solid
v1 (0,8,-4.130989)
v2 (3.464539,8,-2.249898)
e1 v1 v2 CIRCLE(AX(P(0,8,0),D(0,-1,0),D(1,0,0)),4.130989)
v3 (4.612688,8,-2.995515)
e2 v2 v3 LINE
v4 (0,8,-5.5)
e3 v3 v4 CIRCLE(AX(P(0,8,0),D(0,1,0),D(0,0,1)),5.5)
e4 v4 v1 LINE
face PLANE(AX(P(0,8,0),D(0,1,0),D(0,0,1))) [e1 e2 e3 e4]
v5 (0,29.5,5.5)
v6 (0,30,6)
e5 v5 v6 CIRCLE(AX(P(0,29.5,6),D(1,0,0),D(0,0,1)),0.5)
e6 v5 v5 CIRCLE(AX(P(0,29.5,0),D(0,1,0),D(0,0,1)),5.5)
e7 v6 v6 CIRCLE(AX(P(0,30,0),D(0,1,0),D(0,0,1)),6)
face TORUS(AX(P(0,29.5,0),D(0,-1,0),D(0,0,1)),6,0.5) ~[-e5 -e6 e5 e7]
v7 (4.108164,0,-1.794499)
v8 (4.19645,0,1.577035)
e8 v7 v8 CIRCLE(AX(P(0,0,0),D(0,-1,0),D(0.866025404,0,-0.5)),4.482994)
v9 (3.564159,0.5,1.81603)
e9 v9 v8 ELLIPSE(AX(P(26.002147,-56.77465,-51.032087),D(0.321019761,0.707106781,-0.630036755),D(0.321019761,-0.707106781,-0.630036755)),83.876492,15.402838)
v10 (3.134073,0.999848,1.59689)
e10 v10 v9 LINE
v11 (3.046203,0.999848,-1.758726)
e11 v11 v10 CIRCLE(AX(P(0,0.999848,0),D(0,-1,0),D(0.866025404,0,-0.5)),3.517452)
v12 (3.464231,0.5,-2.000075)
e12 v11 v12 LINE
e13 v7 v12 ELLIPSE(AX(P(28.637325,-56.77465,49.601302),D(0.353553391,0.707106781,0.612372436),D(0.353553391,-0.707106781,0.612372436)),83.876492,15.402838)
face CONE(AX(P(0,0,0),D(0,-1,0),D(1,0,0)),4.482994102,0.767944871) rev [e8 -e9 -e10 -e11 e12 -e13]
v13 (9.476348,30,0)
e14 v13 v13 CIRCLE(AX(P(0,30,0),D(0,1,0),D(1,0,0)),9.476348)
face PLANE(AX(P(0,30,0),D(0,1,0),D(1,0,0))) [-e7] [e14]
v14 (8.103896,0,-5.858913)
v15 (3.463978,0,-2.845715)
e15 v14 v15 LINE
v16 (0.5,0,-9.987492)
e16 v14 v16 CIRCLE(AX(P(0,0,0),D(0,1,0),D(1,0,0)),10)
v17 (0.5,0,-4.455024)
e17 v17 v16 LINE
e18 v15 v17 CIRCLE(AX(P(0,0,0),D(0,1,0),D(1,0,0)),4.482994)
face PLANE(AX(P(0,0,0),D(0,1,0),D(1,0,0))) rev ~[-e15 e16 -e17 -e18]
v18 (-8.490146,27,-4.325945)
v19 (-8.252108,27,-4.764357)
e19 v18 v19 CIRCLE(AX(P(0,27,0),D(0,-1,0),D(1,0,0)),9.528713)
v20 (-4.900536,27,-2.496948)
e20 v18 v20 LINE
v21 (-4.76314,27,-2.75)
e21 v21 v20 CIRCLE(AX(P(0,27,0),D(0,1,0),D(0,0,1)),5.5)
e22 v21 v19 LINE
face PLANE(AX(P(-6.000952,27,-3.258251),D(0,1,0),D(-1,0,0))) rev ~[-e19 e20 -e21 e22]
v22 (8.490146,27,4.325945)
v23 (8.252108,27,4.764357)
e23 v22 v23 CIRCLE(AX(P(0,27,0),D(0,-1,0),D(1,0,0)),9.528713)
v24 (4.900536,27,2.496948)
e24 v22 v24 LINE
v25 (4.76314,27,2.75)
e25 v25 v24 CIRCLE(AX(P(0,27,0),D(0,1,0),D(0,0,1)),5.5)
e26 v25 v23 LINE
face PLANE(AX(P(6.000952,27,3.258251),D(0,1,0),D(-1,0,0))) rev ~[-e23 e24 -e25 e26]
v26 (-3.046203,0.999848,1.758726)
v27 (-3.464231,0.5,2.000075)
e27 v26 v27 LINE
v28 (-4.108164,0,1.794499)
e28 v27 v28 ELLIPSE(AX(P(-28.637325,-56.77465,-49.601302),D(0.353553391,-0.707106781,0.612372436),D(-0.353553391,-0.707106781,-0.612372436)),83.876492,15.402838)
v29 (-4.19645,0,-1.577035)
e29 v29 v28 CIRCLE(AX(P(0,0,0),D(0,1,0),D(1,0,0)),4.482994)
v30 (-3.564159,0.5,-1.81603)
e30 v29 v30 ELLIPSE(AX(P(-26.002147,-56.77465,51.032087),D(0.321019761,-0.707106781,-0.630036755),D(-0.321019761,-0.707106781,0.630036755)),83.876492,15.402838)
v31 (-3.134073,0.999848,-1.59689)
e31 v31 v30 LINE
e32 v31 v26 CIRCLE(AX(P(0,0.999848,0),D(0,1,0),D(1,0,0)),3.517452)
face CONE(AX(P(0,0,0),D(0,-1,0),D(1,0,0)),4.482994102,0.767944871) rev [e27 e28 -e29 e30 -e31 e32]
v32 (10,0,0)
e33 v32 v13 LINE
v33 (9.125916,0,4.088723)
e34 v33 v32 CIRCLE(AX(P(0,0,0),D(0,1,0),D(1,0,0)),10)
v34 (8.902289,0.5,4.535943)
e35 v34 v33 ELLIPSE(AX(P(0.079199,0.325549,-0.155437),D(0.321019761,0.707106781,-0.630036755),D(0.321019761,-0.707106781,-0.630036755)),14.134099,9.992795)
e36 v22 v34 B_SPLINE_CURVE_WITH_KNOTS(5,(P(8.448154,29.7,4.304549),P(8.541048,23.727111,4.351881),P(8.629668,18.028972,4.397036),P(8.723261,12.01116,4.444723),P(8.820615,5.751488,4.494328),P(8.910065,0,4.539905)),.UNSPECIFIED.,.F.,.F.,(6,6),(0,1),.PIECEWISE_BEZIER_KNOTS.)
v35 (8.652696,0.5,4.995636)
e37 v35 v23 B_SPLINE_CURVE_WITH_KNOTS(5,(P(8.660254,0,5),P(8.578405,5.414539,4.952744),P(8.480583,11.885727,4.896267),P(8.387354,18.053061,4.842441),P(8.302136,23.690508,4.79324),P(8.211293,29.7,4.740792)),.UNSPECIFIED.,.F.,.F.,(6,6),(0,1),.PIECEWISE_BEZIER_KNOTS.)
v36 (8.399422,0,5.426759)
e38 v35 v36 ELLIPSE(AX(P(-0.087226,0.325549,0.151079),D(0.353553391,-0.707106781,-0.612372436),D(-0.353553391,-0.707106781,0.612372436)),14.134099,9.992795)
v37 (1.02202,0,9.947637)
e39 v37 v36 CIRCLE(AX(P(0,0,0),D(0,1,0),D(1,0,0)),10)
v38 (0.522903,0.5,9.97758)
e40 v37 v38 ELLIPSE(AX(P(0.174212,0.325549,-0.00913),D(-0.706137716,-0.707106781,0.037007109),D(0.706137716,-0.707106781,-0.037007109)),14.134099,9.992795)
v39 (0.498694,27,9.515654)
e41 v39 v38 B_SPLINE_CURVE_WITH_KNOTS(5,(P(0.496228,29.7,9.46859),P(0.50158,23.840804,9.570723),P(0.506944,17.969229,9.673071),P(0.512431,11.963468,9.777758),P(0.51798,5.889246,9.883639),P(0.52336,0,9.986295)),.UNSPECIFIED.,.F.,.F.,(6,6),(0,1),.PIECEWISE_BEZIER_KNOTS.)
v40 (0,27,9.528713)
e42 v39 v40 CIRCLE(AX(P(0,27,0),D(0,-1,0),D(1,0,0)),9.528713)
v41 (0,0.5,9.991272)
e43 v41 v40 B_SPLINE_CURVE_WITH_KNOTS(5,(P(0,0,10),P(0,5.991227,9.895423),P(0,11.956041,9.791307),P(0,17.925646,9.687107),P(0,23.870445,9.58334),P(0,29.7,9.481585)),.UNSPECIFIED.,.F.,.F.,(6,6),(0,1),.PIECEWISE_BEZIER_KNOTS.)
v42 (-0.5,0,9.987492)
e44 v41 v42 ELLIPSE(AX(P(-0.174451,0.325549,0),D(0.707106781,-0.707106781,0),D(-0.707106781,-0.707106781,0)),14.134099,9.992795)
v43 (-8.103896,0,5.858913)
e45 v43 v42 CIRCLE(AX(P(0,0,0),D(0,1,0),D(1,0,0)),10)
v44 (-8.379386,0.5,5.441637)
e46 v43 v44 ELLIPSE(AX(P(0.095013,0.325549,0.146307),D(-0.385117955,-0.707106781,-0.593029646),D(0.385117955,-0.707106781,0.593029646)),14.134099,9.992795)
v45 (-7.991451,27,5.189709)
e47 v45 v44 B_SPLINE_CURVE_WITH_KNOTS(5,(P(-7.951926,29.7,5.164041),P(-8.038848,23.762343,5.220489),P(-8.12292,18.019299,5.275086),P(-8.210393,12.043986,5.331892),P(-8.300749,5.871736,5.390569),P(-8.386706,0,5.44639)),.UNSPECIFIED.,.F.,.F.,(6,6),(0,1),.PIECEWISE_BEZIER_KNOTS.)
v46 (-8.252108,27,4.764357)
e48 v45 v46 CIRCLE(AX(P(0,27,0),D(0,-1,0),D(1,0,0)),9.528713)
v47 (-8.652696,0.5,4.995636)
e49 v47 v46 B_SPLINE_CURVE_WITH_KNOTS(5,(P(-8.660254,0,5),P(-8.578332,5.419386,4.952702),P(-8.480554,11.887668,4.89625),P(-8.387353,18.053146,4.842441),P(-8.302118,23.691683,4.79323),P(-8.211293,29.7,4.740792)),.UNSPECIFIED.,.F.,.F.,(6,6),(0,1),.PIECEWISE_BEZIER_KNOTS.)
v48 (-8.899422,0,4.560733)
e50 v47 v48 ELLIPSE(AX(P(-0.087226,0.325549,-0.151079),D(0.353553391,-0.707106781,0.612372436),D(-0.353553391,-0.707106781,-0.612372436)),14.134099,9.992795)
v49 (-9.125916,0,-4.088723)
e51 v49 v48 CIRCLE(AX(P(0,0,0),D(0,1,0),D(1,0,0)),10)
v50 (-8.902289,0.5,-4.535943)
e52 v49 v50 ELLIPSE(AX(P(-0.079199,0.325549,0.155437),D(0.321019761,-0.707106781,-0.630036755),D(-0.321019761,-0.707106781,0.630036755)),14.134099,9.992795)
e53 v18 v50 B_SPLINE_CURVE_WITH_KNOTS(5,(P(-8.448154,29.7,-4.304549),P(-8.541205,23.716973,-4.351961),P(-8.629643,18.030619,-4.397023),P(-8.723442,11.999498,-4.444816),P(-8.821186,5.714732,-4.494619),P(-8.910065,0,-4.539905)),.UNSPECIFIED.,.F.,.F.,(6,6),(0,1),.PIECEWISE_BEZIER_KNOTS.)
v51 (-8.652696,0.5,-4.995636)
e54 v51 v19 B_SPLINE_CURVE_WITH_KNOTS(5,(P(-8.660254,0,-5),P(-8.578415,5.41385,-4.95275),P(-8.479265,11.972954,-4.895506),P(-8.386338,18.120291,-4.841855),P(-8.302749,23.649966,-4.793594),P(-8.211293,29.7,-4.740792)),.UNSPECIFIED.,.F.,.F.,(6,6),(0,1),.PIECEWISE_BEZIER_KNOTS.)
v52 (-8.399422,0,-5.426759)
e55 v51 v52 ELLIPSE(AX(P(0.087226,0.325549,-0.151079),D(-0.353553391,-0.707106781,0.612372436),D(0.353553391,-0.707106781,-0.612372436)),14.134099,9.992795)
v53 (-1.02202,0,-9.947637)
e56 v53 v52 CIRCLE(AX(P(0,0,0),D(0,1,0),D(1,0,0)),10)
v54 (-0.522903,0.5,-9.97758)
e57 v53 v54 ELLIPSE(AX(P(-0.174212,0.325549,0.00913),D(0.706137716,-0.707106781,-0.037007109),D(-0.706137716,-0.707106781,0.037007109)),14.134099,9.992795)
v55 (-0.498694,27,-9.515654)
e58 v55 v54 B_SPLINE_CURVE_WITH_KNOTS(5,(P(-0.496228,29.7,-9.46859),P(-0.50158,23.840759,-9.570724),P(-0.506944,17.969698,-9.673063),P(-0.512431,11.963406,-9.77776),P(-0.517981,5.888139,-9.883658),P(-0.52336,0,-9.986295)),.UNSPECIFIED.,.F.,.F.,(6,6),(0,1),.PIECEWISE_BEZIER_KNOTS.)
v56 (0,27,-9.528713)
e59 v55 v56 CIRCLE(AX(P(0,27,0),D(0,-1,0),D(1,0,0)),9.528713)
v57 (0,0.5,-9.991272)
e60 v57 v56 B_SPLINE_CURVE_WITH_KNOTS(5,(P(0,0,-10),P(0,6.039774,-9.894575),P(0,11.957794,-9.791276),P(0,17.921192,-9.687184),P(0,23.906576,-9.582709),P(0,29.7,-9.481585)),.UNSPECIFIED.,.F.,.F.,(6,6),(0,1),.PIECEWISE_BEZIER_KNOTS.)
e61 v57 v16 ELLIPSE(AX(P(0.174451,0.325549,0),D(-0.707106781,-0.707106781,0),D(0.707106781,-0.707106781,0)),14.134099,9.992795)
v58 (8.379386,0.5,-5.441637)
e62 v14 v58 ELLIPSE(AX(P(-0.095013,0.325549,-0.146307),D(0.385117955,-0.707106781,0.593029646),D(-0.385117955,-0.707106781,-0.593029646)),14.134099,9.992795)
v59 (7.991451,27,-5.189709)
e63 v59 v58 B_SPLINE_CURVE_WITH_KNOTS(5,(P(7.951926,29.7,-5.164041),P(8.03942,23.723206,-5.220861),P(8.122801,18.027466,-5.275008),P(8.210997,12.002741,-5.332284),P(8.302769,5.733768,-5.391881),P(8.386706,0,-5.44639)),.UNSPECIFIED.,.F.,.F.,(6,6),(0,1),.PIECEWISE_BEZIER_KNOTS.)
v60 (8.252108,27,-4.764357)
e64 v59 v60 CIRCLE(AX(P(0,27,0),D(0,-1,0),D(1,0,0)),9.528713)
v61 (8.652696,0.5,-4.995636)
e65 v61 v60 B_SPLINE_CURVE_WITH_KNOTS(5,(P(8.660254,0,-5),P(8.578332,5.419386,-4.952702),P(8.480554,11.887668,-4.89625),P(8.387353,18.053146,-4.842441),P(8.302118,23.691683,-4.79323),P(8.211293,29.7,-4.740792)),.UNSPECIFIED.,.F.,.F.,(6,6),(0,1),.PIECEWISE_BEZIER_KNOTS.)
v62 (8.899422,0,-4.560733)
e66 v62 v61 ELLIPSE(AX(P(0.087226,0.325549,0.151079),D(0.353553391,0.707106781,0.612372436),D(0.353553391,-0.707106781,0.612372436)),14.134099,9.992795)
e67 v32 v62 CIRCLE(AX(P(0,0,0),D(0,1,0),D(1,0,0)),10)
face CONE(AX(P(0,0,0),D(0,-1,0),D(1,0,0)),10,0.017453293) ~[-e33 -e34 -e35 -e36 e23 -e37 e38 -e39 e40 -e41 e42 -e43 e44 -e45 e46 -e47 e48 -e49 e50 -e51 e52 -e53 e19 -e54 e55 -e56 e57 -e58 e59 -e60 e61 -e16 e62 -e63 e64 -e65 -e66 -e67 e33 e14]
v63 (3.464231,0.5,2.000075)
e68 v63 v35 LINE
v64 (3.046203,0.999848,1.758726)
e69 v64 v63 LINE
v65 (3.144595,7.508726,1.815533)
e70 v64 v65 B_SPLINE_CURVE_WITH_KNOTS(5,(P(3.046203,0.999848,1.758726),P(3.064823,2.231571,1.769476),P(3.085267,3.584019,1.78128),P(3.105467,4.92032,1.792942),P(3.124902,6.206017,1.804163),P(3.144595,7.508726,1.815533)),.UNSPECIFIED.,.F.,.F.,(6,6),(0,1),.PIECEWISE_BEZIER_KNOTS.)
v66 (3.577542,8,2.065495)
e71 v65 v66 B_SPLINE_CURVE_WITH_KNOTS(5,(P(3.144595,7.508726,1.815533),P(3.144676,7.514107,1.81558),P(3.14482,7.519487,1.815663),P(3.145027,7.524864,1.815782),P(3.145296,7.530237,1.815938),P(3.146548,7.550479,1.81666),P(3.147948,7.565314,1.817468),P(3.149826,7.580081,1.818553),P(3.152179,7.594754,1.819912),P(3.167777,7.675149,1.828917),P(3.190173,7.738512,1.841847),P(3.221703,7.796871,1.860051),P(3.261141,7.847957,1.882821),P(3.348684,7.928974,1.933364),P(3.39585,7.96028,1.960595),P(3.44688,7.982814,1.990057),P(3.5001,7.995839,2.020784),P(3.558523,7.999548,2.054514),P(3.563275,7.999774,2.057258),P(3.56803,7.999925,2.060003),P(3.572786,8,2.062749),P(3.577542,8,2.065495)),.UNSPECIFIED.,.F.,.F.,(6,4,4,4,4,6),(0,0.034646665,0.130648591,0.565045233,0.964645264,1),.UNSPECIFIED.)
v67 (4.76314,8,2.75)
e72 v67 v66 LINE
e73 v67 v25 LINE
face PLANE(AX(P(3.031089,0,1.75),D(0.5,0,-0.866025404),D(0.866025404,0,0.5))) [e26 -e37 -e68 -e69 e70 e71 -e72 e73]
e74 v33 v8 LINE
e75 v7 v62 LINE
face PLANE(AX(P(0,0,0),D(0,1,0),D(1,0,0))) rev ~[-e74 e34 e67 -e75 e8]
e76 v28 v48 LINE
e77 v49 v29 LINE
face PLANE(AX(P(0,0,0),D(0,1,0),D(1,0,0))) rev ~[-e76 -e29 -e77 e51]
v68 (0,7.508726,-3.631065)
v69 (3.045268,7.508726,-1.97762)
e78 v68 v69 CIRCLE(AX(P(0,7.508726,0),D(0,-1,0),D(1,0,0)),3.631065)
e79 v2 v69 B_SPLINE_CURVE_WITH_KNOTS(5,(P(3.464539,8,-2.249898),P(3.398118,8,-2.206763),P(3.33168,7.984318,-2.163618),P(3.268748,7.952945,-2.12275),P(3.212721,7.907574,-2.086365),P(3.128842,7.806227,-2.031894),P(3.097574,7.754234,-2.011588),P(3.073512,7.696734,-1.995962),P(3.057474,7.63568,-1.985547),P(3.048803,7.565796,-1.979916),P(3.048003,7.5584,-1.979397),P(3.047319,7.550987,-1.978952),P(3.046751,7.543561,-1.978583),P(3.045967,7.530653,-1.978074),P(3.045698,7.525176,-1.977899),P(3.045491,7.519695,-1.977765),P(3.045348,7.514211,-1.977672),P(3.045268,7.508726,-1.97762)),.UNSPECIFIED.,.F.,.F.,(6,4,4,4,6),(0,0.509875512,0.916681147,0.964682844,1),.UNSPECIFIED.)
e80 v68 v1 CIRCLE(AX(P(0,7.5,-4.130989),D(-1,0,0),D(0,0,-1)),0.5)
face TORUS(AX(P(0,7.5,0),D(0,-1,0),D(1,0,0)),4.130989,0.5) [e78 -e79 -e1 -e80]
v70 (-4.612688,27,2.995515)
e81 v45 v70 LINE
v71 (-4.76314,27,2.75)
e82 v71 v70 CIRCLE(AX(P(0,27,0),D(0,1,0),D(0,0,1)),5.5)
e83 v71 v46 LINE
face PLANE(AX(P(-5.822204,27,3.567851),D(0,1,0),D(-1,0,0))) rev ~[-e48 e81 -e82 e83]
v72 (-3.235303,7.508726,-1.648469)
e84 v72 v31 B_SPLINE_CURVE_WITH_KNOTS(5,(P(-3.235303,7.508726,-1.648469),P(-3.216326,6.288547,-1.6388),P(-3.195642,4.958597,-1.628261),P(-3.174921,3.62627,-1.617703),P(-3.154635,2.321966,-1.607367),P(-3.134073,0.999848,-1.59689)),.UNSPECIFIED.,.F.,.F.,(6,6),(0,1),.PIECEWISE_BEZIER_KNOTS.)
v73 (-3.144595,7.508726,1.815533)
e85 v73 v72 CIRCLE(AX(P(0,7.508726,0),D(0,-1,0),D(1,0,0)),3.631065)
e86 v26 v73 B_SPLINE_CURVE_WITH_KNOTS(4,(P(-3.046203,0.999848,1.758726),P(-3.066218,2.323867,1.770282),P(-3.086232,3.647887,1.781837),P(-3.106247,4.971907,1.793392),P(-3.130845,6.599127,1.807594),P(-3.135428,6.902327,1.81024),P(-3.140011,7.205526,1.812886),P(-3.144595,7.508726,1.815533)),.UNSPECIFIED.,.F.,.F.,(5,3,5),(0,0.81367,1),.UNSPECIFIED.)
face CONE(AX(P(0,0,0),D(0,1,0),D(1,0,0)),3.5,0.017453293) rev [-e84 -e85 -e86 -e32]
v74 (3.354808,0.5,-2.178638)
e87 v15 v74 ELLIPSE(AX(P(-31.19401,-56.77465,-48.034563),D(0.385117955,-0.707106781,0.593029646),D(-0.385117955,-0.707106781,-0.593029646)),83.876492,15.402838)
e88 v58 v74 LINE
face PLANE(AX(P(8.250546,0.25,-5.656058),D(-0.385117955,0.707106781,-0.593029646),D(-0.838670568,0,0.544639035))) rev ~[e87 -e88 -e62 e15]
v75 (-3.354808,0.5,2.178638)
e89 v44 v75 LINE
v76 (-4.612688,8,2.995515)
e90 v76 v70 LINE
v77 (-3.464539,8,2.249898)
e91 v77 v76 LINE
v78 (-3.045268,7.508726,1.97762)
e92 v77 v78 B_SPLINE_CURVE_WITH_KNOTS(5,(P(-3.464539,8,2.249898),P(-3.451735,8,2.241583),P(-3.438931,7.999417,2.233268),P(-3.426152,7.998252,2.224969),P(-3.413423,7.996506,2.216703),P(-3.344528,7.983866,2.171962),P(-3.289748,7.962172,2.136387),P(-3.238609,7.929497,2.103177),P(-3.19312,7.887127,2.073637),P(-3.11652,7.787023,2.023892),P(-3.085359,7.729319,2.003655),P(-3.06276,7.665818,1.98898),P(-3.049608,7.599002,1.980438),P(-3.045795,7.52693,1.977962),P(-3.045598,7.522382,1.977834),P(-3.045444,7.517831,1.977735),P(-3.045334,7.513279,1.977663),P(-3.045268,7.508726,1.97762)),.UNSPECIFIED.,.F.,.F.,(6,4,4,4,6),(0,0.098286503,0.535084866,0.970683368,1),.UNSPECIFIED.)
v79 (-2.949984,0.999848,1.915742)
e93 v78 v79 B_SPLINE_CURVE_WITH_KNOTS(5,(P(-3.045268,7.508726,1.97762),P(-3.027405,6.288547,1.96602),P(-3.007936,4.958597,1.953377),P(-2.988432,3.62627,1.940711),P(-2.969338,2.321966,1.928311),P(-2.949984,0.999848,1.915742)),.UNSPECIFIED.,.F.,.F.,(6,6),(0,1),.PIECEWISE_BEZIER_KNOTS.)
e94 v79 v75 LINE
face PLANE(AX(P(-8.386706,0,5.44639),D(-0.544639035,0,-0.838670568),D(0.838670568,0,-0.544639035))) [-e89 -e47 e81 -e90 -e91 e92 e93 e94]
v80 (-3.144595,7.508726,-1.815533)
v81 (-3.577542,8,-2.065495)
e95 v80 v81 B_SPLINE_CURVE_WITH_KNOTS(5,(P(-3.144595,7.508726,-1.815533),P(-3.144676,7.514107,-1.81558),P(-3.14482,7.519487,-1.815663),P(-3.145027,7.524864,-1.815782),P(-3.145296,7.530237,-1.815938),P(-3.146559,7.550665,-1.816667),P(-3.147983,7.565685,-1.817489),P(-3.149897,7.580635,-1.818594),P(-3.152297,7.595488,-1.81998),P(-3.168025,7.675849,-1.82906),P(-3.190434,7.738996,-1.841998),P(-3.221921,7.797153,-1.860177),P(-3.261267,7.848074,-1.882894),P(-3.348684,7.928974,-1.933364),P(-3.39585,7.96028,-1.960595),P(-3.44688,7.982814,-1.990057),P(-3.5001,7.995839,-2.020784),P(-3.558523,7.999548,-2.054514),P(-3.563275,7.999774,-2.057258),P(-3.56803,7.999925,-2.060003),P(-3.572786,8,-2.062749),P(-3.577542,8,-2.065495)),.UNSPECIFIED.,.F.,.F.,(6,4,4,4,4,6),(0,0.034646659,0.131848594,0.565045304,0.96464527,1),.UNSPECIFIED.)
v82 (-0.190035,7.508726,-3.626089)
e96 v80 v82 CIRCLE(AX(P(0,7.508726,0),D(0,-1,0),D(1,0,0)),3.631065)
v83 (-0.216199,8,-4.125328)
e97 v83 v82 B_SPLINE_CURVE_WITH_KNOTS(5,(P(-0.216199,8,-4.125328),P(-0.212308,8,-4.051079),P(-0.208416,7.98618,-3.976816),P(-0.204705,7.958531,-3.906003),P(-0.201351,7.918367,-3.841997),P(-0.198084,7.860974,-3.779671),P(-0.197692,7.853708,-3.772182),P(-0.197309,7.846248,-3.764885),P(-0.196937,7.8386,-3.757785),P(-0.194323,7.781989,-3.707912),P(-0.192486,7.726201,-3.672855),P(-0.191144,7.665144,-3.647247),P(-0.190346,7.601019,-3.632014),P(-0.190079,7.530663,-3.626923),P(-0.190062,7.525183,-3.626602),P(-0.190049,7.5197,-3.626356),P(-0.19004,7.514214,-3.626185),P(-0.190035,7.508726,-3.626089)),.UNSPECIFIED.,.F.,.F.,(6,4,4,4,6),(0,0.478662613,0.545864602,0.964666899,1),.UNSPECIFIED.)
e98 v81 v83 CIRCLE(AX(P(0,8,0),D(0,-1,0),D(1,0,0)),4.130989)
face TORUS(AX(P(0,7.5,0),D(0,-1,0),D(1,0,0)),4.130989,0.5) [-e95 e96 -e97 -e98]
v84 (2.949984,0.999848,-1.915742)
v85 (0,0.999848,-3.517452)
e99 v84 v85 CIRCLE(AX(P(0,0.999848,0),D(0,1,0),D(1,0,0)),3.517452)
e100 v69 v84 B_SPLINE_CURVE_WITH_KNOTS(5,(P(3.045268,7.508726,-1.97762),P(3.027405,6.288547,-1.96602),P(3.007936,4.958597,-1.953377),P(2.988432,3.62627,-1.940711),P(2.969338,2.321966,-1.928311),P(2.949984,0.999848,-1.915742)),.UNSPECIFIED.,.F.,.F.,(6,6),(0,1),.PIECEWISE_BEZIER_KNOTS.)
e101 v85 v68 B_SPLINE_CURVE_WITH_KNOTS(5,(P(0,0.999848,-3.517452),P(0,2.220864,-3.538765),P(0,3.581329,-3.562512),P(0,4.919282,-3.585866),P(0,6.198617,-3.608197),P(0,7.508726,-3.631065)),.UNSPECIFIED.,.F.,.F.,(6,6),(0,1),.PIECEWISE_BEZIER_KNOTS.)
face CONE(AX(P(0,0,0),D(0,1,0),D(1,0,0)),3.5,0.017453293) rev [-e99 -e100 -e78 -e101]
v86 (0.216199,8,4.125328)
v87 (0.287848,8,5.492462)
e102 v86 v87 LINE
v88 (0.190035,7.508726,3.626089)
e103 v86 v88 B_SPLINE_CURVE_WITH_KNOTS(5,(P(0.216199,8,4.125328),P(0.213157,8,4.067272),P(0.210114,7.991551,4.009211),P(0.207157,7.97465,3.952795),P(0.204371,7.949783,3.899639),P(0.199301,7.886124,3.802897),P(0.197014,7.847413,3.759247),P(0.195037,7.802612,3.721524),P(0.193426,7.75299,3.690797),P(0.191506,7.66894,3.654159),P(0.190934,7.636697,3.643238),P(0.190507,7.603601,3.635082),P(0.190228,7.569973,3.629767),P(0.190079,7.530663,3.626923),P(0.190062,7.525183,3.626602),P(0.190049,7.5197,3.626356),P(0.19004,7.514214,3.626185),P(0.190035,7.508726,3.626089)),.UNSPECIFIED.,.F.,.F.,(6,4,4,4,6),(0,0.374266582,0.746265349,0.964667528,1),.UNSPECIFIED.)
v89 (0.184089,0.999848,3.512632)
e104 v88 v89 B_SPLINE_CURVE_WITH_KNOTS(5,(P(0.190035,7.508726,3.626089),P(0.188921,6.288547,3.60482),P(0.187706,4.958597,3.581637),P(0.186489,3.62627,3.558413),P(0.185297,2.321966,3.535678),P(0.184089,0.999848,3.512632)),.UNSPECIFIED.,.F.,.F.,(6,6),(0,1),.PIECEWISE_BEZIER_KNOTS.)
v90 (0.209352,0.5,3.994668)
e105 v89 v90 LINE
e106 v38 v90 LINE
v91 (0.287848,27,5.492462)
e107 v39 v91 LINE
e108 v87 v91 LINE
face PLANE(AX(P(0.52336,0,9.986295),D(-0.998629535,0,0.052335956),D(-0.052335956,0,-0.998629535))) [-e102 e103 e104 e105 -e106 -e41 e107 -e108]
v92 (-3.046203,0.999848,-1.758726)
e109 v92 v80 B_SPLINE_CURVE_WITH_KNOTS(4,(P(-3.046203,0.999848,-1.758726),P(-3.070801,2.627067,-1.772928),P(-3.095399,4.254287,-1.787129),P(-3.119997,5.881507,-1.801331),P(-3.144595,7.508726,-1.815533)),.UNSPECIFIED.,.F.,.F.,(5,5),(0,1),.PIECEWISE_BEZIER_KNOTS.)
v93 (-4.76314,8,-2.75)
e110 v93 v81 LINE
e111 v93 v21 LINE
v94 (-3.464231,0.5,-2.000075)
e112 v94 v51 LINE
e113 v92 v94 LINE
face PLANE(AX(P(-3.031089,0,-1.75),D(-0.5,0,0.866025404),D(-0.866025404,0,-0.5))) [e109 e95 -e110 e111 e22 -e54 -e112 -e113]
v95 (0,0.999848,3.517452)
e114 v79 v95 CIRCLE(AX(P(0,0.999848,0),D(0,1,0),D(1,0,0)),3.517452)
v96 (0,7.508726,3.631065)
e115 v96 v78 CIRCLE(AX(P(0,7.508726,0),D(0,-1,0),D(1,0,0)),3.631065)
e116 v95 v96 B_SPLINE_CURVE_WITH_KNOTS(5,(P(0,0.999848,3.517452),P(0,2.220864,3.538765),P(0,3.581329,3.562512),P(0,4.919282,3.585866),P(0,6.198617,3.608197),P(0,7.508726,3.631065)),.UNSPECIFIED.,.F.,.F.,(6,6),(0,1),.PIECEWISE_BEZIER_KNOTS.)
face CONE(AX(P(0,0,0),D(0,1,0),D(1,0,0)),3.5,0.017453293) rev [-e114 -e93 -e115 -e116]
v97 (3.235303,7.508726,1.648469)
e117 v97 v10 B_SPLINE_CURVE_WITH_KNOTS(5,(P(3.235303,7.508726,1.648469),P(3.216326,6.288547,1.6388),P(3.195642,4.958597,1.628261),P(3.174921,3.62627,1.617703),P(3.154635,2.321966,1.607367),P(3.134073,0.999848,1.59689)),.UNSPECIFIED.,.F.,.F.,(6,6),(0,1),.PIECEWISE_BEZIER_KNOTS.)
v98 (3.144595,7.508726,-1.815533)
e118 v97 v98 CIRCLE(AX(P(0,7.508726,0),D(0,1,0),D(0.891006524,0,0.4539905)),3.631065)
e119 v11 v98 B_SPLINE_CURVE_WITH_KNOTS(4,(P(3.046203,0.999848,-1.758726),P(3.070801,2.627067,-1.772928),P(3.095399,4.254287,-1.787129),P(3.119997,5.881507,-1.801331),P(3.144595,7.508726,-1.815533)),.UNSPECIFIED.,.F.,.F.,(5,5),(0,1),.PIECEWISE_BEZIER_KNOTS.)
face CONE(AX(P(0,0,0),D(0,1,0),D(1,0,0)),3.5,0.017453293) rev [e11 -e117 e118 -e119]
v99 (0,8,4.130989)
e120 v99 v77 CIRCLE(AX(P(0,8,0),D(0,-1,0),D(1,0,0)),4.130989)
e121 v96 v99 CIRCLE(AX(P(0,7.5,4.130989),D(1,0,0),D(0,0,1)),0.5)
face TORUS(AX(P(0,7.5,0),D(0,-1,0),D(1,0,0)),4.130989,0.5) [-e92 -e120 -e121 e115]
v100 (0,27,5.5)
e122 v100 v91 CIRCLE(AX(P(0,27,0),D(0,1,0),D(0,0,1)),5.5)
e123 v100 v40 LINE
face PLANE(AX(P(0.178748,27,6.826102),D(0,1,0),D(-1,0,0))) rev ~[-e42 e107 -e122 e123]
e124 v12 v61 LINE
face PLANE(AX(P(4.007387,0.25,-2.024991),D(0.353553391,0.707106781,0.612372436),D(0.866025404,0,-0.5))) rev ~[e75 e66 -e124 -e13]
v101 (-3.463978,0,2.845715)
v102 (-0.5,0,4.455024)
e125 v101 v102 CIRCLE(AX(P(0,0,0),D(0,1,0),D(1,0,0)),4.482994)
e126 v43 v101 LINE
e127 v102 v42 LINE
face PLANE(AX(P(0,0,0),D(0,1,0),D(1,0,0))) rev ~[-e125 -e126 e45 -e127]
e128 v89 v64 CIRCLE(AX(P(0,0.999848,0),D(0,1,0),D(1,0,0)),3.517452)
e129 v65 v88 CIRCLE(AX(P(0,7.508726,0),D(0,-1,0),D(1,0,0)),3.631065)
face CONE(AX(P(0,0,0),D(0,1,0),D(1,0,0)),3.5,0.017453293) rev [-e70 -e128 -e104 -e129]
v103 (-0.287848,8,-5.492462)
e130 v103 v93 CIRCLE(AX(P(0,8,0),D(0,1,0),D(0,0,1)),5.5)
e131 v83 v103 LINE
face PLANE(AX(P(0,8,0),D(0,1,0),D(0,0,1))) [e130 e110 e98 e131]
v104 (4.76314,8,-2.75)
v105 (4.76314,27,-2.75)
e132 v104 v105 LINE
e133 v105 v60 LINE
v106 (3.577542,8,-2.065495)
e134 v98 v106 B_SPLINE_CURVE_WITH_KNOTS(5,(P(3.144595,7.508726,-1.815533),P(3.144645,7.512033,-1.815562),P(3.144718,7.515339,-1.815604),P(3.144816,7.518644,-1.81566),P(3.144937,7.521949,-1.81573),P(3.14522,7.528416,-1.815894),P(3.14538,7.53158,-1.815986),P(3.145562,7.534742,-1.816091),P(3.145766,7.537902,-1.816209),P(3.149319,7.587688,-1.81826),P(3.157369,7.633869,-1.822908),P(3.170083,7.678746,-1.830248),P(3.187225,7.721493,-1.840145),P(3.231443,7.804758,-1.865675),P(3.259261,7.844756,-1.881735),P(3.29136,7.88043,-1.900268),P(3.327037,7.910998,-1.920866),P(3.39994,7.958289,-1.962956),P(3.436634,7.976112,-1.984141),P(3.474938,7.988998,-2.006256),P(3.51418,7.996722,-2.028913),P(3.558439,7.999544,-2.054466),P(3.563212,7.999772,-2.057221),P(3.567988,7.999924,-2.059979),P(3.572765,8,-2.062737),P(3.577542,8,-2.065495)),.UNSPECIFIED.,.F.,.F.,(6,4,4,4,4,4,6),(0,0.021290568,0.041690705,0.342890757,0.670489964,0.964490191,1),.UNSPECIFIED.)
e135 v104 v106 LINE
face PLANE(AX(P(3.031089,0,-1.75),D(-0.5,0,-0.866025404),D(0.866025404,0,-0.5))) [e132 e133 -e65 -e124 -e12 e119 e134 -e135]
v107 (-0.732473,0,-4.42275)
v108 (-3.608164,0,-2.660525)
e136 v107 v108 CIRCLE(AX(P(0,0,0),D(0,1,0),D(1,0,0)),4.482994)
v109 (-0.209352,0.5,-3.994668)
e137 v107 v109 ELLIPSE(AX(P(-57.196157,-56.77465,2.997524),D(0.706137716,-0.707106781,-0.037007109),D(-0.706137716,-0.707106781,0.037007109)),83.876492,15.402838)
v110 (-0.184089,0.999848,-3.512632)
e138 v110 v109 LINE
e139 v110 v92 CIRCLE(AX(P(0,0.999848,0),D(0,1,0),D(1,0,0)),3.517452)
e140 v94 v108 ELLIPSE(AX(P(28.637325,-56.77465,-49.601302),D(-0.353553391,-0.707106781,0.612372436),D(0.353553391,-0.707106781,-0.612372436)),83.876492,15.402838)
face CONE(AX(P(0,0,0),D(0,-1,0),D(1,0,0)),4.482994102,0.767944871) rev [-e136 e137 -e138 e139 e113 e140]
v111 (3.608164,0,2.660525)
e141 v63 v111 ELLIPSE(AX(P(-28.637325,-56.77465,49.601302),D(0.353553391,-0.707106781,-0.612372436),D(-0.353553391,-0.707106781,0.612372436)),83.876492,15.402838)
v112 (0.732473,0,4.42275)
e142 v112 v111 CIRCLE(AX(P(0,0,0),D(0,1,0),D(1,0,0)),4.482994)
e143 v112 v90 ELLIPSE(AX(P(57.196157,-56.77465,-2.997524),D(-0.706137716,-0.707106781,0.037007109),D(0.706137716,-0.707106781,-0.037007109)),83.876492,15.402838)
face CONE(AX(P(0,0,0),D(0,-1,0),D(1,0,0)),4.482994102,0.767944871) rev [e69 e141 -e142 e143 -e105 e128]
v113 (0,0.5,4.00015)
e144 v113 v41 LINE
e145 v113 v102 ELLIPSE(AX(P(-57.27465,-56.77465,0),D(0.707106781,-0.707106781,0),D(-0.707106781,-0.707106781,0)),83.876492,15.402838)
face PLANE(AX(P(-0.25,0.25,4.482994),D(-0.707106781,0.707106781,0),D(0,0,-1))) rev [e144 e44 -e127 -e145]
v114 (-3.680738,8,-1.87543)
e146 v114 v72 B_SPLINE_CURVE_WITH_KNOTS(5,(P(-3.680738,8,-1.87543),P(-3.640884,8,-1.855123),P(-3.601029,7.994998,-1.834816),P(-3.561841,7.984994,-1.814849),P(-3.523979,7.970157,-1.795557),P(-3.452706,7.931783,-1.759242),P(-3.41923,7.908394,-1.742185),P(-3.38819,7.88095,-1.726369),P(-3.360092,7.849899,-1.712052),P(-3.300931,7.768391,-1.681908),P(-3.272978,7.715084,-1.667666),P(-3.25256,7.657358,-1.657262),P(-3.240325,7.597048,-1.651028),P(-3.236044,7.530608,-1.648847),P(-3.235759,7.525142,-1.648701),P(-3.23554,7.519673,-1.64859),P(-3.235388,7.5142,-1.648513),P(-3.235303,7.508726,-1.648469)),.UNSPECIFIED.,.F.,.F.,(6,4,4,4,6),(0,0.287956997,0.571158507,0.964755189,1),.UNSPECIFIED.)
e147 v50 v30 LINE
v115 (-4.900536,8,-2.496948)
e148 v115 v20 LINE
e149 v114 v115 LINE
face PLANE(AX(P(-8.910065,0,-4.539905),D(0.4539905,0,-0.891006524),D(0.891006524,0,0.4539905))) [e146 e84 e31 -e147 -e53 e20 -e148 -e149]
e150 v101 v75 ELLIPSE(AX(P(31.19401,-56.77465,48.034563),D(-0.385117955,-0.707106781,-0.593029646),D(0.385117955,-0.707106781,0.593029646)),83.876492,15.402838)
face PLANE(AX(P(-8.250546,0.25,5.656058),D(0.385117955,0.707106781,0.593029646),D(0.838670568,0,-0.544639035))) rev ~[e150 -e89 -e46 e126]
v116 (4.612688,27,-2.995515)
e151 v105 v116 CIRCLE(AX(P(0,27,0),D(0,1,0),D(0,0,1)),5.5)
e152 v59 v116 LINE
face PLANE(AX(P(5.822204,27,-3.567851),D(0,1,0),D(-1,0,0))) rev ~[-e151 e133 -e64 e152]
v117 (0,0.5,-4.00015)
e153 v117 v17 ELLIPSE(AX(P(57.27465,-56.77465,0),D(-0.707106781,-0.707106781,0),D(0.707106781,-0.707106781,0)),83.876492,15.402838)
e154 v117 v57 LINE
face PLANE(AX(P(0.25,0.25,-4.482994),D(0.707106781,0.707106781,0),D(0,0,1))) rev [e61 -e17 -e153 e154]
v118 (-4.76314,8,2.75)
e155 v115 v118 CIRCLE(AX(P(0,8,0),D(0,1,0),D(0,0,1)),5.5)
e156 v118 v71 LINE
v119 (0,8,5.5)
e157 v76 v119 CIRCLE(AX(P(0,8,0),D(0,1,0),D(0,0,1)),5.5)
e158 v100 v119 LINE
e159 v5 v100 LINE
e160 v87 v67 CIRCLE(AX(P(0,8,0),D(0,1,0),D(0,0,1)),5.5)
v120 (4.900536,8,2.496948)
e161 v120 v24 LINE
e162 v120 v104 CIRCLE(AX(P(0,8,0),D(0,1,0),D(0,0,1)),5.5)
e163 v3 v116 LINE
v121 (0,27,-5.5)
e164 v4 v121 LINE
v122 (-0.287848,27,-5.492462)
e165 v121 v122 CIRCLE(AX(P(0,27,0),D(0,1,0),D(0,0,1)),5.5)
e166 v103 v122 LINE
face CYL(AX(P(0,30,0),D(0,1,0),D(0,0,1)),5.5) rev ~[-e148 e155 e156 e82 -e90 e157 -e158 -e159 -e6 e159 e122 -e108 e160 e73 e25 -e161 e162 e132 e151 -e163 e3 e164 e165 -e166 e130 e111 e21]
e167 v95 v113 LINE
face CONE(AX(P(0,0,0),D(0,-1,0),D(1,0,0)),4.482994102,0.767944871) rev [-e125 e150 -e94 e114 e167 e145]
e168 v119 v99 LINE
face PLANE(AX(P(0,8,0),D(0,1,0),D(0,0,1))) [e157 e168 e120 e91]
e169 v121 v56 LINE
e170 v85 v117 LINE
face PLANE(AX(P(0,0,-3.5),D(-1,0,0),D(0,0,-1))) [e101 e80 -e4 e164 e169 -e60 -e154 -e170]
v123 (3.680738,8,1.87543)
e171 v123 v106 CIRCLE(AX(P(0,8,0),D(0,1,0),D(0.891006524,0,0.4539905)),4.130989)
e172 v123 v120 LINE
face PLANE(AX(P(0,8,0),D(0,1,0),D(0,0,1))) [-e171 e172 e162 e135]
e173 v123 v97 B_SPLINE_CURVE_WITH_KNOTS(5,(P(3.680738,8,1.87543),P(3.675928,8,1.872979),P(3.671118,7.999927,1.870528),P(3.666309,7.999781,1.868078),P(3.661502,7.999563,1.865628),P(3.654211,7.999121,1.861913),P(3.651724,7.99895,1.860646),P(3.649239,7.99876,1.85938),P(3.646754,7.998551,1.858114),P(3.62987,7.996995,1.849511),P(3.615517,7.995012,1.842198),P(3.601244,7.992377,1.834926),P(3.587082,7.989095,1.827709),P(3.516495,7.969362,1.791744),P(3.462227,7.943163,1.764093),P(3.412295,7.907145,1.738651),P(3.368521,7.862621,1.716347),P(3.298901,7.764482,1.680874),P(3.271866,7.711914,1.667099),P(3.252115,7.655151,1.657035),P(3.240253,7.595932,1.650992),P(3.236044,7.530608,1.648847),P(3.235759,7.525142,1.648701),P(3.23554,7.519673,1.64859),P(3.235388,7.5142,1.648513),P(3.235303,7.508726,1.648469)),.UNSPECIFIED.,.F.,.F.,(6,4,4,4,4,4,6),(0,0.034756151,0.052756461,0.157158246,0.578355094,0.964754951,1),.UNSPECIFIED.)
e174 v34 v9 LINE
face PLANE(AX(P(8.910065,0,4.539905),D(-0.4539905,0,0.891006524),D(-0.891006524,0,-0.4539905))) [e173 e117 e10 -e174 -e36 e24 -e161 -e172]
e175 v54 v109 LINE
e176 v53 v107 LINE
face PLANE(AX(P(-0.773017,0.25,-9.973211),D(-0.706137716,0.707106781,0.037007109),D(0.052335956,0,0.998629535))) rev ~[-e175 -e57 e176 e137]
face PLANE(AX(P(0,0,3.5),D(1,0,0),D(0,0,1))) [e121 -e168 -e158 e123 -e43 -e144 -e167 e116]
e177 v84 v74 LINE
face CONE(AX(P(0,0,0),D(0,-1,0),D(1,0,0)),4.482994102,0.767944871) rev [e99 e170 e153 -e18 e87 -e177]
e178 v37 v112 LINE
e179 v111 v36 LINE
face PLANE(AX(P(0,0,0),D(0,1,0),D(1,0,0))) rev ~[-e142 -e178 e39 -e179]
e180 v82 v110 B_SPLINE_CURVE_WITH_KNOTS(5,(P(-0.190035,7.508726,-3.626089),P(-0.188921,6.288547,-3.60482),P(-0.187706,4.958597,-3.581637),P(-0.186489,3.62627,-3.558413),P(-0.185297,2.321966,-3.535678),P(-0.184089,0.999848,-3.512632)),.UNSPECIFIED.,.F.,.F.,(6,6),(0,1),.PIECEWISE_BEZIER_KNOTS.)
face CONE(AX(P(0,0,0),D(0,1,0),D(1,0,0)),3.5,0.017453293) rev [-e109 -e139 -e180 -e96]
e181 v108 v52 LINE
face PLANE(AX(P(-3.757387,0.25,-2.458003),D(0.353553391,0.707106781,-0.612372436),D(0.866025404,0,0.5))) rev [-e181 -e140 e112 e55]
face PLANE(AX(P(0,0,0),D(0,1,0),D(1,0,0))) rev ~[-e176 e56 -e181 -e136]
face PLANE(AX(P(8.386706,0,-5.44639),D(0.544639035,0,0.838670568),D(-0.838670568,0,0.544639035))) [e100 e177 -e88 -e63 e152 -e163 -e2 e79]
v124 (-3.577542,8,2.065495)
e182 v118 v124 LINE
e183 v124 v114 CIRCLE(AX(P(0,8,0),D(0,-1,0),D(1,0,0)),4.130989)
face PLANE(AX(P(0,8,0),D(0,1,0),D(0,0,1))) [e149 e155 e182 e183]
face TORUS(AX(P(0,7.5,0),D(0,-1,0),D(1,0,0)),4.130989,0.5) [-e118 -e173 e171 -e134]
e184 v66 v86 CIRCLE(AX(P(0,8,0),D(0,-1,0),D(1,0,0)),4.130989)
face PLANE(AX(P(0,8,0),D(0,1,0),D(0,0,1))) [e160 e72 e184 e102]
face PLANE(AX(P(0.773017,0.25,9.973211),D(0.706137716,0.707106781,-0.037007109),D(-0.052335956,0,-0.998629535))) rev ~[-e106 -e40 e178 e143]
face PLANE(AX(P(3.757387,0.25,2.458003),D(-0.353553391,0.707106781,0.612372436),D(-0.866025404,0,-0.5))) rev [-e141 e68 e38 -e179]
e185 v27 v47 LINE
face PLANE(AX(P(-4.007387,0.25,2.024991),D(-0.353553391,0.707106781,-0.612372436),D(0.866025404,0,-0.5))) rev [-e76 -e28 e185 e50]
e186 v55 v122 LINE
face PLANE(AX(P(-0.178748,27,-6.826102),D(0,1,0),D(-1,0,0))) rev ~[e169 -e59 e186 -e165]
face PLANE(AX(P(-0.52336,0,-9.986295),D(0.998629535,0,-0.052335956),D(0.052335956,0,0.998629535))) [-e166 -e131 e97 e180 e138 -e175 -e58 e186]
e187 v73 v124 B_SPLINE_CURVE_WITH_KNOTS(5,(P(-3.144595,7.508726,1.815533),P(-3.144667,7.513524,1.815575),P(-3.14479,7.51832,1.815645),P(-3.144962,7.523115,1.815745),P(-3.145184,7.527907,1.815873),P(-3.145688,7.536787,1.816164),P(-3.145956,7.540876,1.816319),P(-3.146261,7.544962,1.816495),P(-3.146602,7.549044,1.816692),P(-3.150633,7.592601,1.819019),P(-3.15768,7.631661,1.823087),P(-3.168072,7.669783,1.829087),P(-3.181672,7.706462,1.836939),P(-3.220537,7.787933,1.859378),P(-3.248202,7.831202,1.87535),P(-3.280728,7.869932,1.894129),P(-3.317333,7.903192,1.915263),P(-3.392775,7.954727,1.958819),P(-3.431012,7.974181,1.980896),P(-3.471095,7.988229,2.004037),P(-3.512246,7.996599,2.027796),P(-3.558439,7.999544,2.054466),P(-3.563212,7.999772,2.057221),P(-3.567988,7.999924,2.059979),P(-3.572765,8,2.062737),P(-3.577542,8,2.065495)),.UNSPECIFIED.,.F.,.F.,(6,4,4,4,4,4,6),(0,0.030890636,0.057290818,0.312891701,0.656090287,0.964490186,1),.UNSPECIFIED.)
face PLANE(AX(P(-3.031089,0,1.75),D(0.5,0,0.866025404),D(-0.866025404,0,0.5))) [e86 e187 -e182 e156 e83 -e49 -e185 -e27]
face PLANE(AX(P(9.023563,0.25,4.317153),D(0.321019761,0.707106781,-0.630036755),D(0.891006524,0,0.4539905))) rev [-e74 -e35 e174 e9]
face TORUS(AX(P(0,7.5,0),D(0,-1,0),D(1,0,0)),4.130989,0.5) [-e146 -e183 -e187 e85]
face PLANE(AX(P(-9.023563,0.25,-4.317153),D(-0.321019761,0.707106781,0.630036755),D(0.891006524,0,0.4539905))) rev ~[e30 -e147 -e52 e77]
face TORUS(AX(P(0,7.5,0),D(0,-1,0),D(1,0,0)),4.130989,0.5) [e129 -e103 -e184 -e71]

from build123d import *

# Parameters (mm, degrees)
SKETCH2_R           = 10
SKETCH2_R_2         = 3.5
BOSS_EXTRUDE1_DEPTH = 30
BOSS_EXTRUDE1_DRAFT = 1
SKETCH3_R           = 5.5
CUT_EXTRUDE1_DEPTH  = 22
CHAMFER1_SIZE       = 1
CHAMFER1_SIZE2      = 0.982994102
FILLET1_R           = 0.5
CUT_EXTRUDE2_DEPTH  = 27
CHAMFER2_SIZE       = 0.5
FILLET2_R           = 0.5


with BuildPart() as part:
    # Sketch2 → Boss-Extrude1 (with draft: the straight prism first)
    with BuildSketch(Plane(origin=(0, 0, 0), x_dir=(1, 0, 0), z_dir=(0, 1, 0))):
        Circle(SKETCH2_R)
        Circle(SKETCH2_R_2, mode=Mode.SUBTRACT)
    extrude(amount=BOSS_EXTRUDE1_DEPTH)
    # Boss-Extrude1: the draft: its side faces are tilted about the plane it starts from
    boss_extrude1_sides = [part.faces().sort_by_distance(p)[0] for p in [
        (-10, 15, 0),
        (-3.5, 15, 0),
    ]]
    draft(boss_extrude1_sides, Plane(origin=(0, 0, 0), x_dir=(1, 0, 0), z_dir=(0, 1, 0)), BOSS_EXTRUDE1_DRAFT)

    # Sketch3 → Cut-Extrude1 (cut)
    with BuildSketch(Plane(origin=(0, 30, 0), x_dir=(1, 0, 0), z_dir=(0, 1, 0))):
        with Locations(Location((0, 0, 0), (0, 0, 270))):
            Circle(SKETCH3_R)
    extrude(amount=-CUT_EXTRUDE1_DEPTH, mode=Mode.SUBTRACT)

    # Chamfer1
    chamfer1_edges = [part.edges().sort_by_distance(p)[0] for p in [
        (-3.5, 0, 0),
    ]]
    chamfer1_side = [part.faces().sort_by_distance(p)[0] for p in [
        (-3.56982026, 4, 0),
    ]]
    chamfer(chamfer1_edges, length=CHAMFER1_SIZE, length2=CHAMFER1_SIZE2, reference=chamfer1_side[0])

    # Fillet1
    fillet1_edges = [part.edges().sort_by_distance(p)[0] for p in [
        (-3.639640519, 8, 0),
    ]]
    fillet(fillet1_edges, radius=FILLET1_R)

    # Sketch4 → Cut-Extrude2 (cut)
    with BuildSketch(Plane.XZ):
        with BuildLine():
            Line((0, 3.5), (0, 10))
            ThreePointArc((0, 10), (0.261769483, 9.99657325), (0.523359562, 9.986295348))
            Line((0.523359562, 9.986295348), (0.183175847, 3.495203372))
            ThreePointArc((0.183175847, 3.495203372), (0.091619319, 3.498800637), (0, 3.5))
        make_face()
        with BuildLine():
            Line((3.031088913, 1.75), (8.660254038, 5))
            ThreePointArc((8.660254038, 5), (8.788171127, 4.771587603), (8.910065242, 4.539904997))
            Line((8.910065242, 4.539904997), (3.118522835, 1.588966749))
            ThreePointArc((3.118522835, 1.588966749), (3.075859894, 1.670055661), (3.031088913, 1.75))
        make_face()
        with BuildLine():
            Line((3.031088913, -1.75), (8.660254038, -5))
            ThreePointArc((8.660254038, -5), (8.526401644, -5.224985647), (8.386705679, -5.44639035))
            Line((8.386705679, -5.44639035), (2.935346988, -1.906236623))
            ThreePointArc((2.935346988, -1.906236623), (2.984240575, -1.828744977), (3.031088913, -1.75))
        make_face()
        with BuildLine():
            Line((0, -3.5), (0, -10))
            ThreePointArc((0, -10), (-0.261769483, -9.99657325), (-0.523359562, -9.986295348))
            Line((-0.523359562, -9.986295348), (-0.183175847, -3.495203372))
            ThreePointArc((-0.183175847, -3.495203372), (-0.091619319, -3.498800637), (0, -3.5))
        make_face()
        with BuildLine():
            Line((-3.031088913, -1.75), (-8.660254038, -5))
            ThreePointArc((-8.660254038, -5), (-8.788171127, -4.771587603), (-8.910065242, -4.539904997))
            Line((-8.910065242, -4.539904997), (-3.118522835, -1.588966749))
            ThreePointArc((-3.118522835, -1.588966749), (-3.075859894, -1.670055661), (-3.031088913, -1.75))
        make_face()
        with BuildLine():
            Line((-3.031088913, 1.75), (-8.660254038, 5))
            ThreePointArc((-8.660254038, 5), (-8.526401644, 5.224985647), (-8.386705679, 5.44639035))
            Line((-8.386705679, 5.44639035), (-2.935346988, 1.906236623))
            ThreePointArc((-2.935346988, 1.906236623), (-2.984240575, 1.828744977), (-3.031088913, 1.75))
        make_face()
    extrude(amount=-CUT_EXTRUDE2_DEPTH, mode=Mode.SUBTRACT)

    # Chamfer2
    chamfer2_edges = [part.edges().sort_by_distance(p)[0] for p in [
        (-0.378990673, 0, -7.231572831),
        (0, 0, -7.241497051),
        (-6.452221117, 0, -3.287570865),
        (-6.271320408, 0, -3.620748526),
        (-6.073230445, 0, 3.944001966),
        (-6.271320408, 0, 3.620748526),
        (0.378990673, 0, 7.231572831),
        (0, 0, 7.241497051),
        (6.452221117, 0, 3.287570865),
        (6.271320408, 0, 3.620748526),
        (6.073230445, 0, -3.944001966),
        (6.271320408, 0, -3.620748526),
    ]]
    chamfer(chamfer2_edges, length=CHAMFER2_SIZE)

    # Fillet2
    fillet2_edges = [part.edges().sort_by_distance(p)[0] for p in [
        (0, 30, -5.5),
    ]]
    fillet(fillet2_edges, radius=FILLET2_R)


solid = part.part
